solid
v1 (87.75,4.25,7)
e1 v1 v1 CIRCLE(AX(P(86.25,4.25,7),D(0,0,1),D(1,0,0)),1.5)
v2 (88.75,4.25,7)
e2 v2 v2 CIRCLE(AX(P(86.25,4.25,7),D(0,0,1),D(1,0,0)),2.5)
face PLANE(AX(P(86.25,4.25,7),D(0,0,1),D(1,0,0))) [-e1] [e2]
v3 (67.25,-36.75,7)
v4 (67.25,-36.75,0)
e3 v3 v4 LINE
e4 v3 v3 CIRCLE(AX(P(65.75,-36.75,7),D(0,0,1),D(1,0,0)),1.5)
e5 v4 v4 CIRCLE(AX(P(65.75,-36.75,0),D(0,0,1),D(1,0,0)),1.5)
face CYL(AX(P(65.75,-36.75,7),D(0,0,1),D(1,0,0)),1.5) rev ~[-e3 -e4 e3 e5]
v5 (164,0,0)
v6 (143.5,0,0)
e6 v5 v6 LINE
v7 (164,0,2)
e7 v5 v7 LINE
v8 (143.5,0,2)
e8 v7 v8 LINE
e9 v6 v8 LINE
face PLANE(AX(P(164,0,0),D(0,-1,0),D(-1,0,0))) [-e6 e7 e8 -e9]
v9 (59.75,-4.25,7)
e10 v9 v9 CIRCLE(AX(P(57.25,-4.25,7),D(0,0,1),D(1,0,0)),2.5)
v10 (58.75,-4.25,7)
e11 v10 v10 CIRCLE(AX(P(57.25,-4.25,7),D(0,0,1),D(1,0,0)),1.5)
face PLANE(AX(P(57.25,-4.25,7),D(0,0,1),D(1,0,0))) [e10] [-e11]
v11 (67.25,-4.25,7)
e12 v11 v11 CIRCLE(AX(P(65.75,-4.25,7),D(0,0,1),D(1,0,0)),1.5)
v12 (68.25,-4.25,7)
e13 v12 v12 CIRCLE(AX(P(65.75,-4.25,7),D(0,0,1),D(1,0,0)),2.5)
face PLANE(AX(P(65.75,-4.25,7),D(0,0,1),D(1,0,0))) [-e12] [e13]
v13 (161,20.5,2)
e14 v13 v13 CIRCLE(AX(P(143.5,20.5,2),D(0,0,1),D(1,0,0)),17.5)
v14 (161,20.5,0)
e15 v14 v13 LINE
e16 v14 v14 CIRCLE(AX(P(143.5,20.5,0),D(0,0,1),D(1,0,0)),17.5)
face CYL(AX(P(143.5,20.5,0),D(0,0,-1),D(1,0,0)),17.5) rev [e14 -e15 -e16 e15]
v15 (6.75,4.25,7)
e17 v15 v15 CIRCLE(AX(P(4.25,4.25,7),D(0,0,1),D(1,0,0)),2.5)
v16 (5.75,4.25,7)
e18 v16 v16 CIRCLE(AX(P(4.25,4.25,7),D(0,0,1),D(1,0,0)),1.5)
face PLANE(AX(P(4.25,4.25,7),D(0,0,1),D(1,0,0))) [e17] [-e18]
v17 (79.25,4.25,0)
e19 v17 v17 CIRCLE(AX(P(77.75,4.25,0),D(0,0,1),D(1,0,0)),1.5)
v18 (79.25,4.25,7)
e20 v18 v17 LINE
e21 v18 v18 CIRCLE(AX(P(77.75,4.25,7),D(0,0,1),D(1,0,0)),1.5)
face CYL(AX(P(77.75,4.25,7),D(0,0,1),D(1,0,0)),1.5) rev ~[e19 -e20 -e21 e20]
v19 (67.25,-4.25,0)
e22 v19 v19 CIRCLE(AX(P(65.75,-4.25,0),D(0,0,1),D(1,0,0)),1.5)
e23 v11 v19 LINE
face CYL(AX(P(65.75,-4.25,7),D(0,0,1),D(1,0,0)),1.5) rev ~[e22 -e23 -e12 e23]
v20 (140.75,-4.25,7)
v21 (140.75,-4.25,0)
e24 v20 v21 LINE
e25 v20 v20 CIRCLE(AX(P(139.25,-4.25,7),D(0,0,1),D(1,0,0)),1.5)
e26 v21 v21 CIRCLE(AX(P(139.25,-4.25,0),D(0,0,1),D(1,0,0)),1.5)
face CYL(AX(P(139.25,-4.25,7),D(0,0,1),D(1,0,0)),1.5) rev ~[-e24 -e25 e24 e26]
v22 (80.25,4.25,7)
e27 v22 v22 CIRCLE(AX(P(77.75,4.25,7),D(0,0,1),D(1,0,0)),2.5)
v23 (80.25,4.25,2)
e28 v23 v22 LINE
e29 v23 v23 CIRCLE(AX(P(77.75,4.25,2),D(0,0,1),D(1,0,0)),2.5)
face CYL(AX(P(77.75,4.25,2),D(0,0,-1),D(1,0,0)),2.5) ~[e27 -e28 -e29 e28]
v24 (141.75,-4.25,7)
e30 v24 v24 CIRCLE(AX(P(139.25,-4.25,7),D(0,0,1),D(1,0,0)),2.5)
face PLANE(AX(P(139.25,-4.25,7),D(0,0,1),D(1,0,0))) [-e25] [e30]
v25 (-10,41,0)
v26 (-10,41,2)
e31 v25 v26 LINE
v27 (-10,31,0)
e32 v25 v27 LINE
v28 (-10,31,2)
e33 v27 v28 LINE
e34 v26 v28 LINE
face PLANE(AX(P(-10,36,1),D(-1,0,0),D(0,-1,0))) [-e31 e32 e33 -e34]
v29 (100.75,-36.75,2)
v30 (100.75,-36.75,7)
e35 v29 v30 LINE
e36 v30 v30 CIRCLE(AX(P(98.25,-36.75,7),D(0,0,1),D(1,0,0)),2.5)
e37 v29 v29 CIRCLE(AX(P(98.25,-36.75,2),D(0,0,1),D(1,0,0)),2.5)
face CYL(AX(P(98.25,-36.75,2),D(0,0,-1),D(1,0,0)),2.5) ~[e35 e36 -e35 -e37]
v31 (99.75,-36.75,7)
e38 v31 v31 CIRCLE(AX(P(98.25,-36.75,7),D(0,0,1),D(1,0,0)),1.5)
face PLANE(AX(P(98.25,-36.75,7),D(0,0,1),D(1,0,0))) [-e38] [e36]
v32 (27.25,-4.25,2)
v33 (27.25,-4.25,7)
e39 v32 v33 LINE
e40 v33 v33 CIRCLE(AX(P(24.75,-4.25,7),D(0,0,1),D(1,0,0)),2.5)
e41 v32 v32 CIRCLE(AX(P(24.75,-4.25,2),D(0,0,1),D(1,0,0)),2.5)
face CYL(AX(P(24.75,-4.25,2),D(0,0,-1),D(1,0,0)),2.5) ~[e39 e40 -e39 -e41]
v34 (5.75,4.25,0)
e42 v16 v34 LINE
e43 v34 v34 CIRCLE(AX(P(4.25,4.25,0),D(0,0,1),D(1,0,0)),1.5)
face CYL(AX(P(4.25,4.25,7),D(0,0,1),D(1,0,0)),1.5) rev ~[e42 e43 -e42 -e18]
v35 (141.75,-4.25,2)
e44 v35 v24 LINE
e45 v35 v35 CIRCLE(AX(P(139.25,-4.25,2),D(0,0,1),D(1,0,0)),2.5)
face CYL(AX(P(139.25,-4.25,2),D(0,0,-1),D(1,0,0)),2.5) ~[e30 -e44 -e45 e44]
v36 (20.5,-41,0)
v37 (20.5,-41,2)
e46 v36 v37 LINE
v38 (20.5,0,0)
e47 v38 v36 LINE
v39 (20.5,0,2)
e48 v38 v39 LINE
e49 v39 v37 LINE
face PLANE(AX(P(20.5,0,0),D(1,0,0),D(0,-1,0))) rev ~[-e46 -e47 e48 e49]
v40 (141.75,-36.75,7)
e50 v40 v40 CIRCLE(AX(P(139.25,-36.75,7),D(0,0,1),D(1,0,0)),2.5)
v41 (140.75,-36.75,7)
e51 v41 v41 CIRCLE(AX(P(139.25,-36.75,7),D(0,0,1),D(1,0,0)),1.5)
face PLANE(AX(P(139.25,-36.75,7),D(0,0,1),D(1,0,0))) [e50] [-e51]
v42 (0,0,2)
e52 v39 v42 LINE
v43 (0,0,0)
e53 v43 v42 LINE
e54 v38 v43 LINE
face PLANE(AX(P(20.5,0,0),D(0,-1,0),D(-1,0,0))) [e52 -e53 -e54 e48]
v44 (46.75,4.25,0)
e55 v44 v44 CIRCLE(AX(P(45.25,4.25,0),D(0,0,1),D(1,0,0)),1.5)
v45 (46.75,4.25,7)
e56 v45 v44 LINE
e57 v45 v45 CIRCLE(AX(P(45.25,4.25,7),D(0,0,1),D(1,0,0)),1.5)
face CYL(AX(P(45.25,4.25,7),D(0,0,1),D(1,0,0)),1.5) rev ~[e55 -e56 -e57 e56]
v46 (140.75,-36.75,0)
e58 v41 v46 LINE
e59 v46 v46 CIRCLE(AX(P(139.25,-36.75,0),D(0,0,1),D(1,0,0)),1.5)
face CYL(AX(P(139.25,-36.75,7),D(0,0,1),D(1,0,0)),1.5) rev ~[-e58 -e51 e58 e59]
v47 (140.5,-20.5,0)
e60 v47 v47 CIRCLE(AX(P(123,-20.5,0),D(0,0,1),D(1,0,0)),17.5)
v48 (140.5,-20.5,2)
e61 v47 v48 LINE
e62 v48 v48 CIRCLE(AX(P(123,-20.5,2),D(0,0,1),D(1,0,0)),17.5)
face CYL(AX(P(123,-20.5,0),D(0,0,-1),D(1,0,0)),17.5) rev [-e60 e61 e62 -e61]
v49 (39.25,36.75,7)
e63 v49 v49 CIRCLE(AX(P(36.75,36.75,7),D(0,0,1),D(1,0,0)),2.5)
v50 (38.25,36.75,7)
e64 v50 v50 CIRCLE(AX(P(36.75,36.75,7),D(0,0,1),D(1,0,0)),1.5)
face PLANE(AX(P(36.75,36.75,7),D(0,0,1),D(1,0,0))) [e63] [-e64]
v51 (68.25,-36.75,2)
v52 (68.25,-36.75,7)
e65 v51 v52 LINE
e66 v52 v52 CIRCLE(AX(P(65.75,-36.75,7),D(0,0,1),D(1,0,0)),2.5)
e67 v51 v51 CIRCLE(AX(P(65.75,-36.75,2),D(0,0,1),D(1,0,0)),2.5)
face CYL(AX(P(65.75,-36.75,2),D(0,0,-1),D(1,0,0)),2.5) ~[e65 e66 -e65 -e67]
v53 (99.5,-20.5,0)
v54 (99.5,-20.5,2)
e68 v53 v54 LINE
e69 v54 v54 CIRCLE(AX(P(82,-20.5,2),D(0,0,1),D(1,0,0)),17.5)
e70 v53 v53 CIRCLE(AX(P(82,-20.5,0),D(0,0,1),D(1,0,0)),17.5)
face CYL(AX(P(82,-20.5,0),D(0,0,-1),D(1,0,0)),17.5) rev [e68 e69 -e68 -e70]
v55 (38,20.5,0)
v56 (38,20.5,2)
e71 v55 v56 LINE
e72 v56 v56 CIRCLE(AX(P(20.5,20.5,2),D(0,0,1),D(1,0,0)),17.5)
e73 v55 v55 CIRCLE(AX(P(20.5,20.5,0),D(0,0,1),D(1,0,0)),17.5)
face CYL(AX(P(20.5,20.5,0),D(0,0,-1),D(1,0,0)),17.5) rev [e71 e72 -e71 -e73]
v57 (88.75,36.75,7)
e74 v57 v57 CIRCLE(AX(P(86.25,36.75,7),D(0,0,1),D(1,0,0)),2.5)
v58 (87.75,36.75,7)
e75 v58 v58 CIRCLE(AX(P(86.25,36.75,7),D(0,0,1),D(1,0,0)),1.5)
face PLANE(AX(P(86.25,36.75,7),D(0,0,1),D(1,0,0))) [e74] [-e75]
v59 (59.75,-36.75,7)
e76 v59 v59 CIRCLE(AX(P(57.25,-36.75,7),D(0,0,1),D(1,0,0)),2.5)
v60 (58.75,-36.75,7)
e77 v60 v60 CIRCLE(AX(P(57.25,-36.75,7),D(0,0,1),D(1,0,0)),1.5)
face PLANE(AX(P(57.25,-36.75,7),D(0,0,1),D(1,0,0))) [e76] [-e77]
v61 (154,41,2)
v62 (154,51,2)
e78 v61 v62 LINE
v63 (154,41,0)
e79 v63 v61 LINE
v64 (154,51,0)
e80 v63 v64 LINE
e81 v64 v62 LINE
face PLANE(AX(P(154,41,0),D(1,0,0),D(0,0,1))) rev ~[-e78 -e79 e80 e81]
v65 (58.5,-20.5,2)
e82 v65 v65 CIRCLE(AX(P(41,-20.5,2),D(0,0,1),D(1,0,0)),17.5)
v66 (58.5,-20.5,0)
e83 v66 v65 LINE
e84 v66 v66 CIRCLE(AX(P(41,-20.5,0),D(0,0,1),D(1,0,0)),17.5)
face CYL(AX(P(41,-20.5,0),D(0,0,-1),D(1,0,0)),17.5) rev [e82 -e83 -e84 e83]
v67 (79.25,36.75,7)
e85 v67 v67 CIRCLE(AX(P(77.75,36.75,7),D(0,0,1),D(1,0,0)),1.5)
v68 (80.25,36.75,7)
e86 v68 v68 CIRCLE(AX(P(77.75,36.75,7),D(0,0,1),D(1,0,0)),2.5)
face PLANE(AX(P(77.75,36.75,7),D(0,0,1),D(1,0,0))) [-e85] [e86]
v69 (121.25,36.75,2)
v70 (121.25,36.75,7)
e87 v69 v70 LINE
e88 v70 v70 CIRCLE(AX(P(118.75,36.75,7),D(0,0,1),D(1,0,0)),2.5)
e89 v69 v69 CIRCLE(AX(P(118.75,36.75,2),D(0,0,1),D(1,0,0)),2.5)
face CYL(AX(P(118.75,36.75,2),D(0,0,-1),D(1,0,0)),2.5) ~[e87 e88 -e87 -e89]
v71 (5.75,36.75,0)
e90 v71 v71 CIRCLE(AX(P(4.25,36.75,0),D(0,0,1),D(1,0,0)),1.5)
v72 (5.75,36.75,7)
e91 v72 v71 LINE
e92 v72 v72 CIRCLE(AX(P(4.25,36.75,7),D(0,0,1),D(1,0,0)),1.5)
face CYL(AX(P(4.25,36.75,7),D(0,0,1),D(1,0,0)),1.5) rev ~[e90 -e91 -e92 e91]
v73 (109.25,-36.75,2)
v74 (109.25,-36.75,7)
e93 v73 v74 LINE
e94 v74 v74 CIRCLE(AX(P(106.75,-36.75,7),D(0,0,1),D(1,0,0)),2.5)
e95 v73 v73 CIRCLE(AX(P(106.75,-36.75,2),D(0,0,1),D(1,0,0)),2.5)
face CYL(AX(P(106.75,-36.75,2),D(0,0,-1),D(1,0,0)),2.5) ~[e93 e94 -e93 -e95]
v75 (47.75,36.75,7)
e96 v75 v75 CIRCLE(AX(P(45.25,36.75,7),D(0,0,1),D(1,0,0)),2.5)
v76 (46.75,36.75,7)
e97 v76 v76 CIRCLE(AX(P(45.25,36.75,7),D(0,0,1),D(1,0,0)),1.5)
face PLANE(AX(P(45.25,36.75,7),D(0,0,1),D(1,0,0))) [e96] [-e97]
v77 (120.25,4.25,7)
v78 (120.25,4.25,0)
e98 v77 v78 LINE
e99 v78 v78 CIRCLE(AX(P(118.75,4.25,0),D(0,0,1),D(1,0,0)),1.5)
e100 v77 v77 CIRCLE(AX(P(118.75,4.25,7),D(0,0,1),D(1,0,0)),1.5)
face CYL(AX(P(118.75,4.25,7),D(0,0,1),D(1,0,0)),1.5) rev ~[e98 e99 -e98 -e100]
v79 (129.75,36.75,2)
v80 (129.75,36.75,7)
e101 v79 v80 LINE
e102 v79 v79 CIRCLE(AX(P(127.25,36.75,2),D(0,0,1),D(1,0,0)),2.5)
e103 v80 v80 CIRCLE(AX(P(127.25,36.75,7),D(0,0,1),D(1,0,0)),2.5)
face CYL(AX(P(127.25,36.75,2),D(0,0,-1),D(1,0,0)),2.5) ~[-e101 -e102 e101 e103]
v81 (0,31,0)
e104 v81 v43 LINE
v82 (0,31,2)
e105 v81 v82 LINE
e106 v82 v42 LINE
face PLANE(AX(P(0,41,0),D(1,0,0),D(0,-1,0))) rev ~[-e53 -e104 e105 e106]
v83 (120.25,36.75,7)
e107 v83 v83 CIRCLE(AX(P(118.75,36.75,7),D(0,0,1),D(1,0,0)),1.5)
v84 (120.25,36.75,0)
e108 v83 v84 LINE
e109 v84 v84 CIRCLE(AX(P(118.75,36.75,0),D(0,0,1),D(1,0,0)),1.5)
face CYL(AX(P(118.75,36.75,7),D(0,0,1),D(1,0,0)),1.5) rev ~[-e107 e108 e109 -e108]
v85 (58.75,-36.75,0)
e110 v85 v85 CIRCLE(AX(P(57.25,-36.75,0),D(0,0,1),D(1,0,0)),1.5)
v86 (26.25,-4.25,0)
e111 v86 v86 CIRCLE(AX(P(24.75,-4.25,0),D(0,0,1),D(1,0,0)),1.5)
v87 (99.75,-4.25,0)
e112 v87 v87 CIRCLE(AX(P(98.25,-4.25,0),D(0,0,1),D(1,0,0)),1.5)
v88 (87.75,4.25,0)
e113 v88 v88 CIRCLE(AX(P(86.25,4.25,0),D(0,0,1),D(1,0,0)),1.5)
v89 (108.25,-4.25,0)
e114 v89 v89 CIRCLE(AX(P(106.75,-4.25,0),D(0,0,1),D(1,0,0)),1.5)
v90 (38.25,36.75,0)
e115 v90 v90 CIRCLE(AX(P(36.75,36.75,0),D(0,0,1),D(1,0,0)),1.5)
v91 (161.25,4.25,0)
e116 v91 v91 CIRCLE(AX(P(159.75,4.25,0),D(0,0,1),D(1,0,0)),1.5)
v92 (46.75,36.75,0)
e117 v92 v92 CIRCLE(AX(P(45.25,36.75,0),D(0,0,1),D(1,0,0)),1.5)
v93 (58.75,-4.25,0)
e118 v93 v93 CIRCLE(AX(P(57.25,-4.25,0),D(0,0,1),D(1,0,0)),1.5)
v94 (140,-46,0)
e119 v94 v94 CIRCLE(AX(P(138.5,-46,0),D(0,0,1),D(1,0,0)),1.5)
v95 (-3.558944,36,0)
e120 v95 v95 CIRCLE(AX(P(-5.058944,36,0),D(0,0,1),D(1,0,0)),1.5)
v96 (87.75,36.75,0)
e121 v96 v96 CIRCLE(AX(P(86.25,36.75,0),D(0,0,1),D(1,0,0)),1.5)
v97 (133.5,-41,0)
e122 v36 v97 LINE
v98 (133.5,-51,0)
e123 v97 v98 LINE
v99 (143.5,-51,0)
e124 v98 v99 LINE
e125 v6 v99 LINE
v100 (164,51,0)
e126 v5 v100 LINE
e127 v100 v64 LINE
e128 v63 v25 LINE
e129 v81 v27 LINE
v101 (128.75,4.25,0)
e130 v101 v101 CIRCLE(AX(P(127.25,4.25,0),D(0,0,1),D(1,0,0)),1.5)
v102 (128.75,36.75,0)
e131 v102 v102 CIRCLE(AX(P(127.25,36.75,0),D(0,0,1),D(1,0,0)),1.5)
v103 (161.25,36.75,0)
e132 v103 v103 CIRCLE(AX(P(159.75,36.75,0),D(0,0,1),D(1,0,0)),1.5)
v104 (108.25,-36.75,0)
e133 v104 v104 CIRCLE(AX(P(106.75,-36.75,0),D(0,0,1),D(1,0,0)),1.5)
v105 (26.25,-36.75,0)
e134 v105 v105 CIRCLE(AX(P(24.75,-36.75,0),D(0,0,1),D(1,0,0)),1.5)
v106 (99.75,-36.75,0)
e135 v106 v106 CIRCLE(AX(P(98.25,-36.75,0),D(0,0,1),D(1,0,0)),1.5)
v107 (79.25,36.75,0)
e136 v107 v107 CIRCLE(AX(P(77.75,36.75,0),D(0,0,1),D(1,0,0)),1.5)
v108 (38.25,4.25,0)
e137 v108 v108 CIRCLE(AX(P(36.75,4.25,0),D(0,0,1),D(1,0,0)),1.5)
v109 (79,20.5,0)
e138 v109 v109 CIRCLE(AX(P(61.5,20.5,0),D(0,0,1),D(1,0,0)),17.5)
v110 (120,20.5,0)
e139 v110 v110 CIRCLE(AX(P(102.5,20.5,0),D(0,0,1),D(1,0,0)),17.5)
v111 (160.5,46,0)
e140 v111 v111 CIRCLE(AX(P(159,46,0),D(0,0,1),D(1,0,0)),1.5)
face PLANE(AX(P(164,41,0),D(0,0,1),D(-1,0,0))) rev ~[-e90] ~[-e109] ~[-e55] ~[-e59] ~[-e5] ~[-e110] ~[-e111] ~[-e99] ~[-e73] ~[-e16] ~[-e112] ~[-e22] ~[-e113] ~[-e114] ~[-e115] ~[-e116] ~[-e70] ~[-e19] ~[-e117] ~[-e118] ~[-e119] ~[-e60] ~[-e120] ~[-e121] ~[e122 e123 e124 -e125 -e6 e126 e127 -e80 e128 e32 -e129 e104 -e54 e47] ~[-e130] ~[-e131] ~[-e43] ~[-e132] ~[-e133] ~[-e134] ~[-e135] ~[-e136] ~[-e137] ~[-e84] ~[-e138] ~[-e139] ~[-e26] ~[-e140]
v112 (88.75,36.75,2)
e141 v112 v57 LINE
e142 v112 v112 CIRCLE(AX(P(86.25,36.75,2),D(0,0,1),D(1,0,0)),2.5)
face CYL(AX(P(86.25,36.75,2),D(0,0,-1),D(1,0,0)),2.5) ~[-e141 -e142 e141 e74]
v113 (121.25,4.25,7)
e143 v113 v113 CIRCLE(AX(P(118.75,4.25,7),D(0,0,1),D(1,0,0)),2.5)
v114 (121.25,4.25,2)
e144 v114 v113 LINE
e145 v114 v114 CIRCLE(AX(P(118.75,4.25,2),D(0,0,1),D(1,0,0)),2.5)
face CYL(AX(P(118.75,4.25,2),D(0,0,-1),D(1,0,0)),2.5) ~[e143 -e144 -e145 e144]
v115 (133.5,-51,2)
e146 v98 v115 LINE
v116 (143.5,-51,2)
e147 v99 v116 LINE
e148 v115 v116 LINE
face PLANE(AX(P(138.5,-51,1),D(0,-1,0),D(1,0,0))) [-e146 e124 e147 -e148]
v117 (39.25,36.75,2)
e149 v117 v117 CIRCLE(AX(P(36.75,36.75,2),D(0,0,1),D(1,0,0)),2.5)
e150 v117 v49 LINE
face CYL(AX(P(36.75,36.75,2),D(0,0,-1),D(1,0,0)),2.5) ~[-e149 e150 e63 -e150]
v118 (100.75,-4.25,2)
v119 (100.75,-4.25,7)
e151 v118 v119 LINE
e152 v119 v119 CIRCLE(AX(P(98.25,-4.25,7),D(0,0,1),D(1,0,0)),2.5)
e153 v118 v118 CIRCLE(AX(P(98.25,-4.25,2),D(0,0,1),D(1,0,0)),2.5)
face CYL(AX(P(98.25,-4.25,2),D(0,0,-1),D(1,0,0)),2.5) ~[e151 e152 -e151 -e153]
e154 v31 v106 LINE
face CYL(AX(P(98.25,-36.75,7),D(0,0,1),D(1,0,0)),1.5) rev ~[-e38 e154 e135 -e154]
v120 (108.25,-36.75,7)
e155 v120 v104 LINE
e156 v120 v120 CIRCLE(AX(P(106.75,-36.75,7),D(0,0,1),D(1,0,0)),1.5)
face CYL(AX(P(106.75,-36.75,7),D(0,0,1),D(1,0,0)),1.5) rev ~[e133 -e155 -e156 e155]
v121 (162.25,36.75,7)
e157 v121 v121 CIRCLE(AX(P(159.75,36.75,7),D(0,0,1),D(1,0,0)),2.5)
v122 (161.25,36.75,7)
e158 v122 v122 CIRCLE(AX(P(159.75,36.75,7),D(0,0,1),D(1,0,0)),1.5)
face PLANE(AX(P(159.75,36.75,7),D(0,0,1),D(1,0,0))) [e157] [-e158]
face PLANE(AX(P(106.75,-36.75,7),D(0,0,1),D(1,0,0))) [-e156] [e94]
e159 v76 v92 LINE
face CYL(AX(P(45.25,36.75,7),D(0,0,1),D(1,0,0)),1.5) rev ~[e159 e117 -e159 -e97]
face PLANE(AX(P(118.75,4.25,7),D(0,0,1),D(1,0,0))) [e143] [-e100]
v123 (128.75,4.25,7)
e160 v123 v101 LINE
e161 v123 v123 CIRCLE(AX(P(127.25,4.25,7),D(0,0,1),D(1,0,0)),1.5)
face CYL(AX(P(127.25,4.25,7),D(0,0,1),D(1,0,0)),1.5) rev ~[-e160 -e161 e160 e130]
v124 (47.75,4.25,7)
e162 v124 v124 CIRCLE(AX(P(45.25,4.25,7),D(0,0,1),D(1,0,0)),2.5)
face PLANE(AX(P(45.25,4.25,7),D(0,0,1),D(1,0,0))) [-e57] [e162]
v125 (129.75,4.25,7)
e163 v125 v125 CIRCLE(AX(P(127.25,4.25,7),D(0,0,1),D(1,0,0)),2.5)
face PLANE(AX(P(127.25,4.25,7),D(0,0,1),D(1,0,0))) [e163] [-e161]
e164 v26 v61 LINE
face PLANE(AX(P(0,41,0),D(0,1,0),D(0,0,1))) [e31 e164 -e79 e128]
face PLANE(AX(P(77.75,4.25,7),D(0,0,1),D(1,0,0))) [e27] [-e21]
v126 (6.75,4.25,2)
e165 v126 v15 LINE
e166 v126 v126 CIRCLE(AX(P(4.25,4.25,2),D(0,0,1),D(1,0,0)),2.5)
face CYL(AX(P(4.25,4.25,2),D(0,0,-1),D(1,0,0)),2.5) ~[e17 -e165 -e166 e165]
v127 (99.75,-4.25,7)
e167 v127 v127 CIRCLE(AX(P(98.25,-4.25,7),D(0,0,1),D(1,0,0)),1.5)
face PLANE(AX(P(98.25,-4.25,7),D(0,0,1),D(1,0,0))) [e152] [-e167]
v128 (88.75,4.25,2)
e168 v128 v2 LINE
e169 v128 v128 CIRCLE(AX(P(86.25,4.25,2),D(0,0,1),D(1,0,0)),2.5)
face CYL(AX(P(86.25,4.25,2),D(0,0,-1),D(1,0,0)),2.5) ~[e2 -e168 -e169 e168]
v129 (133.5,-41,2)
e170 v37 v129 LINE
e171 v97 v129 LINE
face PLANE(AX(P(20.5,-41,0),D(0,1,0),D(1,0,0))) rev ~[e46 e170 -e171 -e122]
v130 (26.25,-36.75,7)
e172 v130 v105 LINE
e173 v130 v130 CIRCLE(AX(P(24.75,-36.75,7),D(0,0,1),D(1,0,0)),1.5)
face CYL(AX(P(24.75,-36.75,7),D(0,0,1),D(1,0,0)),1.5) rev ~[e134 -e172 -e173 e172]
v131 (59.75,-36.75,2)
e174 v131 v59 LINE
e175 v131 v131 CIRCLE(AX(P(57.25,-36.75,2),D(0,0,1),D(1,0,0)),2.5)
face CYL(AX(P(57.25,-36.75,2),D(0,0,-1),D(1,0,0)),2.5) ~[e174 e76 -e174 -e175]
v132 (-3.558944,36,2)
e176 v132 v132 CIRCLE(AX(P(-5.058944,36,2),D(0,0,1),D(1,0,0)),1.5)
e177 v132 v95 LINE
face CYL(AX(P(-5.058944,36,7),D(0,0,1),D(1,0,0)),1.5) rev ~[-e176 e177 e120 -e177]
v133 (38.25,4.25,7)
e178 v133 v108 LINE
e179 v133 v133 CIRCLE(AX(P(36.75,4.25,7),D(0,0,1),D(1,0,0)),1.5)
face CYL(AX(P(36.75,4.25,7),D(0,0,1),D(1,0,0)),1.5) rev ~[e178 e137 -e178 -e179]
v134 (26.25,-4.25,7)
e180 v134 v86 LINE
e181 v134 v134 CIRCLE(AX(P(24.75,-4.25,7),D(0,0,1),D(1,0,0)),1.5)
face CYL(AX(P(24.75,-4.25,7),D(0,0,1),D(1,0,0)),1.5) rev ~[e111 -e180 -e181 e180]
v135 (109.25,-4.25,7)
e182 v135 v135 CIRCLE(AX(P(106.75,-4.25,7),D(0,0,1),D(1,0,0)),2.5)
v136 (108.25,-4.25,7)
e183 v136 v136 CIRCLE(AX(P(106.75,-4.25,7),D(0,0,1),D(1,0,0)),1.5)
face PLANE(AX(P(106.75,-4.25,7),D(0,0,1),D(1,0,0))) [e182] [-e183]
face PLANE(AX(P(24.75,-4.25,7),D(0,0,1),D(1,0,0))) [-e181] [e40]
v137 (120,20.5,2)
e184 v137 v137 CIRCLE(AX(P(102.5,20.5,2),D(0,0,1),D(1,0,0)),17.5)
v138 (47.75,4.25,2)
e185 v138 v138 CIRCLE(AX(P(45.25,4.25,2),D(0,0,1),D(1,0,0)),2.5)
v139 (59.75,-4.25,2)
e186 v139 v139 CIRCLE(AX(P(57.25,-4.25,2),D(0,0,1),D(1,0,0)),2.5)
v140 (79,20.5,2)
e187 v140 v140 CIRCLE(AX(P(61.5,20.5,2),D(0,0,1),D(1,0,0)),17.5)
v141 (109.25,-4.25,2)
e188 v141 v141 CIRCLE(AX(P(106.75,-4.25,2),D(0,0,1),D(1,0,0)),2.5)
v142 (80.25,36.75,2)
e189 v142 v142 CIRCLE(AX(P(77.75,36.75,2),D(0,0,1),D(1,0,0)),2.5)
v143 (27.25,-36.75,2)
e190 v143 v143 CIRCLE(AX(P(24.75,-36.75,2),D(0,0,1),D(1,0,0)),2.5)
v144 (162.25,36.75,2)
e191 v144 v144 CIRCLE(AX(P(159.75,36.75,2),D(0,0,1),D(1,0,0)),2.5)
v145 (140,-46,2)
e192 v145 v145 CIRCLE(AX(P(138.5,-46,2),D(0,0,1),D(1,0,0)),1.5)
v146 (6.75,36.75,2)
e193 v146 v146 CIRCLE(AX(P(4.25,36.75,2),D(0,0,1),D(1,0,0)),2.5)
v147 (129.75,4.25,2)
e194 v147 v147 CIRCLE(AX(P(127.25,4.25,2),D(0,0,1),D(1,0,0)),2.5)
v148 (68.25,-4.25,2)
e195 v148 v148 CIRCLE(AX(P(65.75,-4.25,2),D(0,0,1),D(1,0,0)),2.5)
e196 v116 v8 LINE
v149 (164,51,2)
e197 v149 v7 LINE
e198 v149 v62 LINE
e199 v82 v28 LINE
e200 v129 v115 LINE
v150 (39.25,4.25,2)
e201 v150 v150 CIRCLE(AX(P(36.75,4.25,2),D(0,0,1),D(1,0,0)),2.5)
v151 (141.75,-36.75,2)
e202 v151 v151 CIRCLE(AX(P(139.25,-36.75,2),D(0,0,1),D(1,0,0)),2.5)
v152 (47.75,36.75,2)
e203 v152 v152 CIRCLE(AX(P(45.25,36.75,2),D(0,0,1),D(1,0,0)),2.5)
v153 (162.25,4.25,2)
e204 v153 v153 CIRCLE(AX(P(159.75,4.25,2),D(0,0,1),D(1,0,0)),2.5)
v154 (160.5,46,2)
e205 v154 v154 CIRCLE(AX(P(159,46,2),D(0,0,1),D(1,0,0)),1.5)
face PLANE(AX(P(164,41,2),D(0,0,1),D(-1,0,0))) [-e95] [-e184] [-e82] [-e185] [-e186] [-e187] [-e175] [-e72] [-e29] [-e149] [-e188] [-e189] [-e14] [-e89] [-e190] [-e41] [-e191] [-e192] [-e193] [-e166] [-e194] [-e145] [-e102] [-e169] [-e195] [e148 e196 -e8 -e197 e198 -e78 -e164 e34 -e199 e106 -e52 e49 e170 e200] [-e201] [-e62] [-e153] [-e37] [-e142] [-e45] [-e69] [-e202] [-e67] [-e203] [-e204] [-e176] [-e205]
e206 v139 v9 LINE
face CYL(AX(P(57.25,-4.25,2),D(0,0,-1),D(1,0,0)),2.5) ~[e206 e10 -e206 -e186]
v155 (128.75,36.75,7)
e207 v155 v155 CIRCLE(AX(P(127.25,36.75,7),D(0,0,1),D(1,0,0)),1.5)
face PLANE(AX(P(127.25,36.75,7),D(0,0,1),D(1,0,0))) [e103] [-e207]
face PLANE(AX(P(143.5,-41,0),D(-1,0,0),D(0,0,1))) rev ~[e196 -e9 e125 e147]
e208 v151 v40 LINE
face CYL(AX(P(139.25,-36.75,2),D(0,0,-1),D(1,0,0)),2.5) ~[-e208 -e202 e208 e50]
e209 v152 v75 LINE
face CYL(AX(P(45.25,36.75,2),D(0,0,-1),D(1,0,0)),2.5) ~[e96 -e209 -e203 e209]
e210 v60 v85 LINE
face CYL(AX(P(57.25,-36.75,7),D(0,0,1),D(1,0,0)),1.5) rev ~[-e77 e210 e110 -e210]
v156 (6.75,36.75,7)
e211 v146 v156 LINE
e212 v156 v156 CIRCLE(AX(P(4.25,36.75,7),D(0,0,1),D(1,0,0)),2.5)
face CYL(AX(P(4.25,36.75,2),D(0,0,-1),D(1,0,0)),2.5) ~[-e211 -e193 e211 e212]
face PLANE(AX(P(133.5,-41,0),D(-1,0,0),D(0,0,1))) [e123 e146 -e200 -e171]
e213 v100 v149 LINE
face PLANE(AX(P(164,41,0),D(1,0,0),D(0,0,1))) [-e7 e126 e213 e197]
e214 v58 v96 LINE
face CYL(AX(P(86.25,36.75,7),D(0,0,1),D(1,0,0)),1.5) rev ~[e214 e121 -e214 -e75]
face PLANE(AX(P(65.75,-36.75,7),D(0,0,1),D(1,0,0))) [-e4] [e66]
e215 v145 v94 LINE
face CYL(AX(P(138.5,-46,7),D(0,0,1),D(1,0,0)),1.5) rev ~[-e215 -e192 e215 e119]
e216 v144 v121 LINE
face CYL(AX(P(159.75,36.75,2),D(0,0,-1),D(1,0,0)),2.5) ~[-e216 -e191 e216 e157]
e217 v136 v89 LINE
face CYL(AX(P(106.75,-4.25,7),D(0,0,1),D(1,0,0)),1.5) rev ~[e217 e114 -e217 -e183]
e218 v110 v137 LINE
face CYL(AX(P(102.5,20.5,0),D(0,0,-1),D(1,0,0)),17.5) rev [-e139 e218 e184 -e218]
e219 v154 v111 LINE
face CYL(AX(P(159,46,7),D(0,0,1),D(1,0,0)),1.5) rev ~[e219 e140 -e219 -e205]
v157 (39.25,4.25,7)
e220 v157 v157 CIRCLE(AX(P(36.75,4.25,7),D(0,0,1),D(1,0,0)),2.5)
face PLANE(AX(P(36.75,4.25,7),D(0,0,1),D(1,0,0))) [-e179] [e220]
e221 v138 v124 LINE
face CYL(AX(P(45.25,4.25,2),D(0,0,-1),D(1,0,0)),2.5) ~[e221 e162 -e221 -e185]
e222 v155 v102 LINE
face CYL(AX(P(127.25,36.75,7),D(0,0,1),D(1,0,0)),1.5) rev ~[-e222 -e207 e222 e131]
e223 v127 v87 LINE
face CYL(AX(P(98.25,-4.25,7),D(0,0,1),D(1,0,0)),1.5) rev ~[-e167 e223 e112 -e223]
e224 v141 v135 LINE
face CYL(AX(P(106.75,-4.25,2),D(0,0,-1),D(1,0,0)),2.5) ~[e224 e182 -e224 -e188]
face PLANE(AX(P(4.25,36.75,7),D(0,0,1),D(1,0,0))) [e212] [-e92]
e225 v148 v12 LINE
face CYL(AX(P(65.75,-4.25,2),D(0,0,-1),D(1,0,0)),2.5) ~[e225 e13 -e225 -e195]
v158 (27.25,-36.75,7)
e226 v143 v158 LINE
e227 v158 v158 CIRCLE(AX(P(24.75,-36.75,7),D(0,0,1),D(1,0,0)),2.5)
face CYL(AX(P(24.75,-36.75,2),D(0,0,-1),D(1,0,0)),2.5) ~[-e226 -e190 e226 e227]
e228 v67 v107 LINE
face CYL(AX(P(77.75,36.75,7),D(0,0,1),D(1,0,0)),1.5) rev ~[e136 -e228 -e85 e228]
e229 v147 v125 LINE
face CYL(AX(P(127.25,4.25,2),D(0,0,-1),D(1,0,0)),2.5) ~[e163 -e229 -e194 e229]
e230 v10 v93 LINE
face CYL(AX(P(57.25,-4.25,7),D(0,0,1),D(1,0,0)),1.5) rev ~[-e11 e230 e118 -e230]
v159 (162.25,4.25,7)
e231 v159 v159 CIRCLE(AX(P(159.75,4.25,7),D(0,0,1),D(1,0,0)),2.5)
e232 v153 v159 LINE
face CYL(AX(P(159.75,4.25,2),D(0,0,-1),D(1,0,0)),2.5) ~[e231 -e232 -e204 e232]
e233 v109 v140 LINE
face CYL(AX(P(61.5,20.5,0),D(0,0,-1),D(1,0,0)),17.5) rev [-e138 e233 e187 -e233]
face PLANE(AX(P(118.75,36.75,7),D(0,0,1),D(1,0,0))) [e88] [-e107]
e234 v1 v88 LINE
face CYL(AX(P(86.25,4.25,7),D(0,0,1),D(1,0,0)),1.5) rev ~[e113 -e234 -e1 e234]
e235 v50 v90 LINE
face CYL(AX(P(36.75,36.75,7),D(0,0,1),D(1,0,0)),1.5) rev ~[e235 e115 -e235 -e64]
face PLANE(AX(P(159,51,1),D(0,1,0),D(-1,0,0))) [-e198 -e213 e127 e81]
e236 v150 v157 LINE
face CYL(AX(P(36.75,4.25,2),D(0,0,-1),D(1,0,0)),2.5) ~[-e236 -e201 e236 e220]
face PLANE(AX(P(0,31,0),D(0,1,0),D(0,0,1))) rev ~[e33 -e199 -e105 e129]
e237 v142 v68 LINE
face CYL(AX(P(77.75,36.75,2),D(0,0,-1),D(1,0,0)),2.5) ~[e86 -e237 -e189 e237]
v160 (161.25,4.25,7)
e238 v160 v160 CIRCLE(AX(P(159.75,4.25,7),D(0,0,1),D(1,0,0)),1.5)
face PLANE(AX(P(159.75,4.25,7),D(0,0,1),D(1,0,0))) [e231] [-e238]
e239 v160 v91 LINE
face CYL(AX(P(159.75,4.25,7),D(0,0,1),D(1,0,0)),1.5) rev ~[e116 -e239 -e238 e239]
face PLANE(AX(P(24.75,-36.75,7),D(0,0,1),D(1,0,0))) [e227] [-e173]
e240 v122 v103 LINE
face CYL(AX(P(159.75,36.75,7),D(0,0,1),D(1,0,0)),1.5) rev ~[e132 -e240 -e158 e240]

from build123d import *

# Parameters (mm, degrees)
SKETCH_R     = 17.5
PAD_DEPTH    = 2
SKETCH002_W  = 10
SKETCH002_H  = 2
PAD003_DEPTH = 10
SKETCH003_W  = 10
SKETCH003_H  = 2
PAD004_DEPTH = 10
SKETCH006_W  = 10
SKETCH006_H  = 2
PAD007_DEPTH = 10
SKETCH001_R  = 2.5
PAD006_DEPTH = 5
SKETCH005_R  = 1.5
POCKET_DEPTH = 7.001


with BuildPart() as part:
    # Sketch → Pad (new body)
    with BuildSketch(Plane.XY):
        Polygon((0, 0), (0, 20.5), (0, 41), (20.5, 41), (41, 41), (61.5, 41), (82, 41), (102.5, 41), (82, 41), (102.5, 41), (123, 41), (143.5, 41), (164, 41), (164, 20.5), (164, 0), (143.5, 0), (143.5, -20.5), (143.5, -41), (123, -41), (102.5, -41), (82, -41), (61.5, -41), (41, -41), (20.5, -41), (20.5, -20.5), (20.5, 0), align=None)
        with Locations((20.5, 20.5)):
            Circle(SKETCH_R, mode=Mode.SUBTRACT)
        with Locations((61.5, 20.5)):
            Circle(SKETCH_R, mode=Mode.SUBTRACT)
        with Locations((102.5, 20.5)):
            Circle(SKETCH_R, mode=Mode.SUBTRACT)
        with Locations((143.5, 20.5)):
            Circle(SKETCH_R, mode=Mode.SUBTRACT)
        with Locations((41, -20.5)):
            Circle(SKETCH_R, mode=Mode.SUBTRACT)
        with Locations((82, -20.5)):
            Circle(SKETCH_R, mode=Mode.SUBTRACT)
        with Locations((123, -20.5)):
            Circle(SKETCH_R, mode=Mode.SUBTRACT)
    extrude(amount=PAD_DEPTH)

    # Sketch002 → Pad003 (join)
    with BuildSketch(Plane(origin=(0, 0, 0), x_dir=(0, -1, 0), z_dir=(-1, 0, 0))):
        with Locations((-36, 1)):
            Rectangle(SKETCH002_W, SKETCH002_H)
    extrude(amount=PAD003_DEPTH)

    # Sketch003 (on Face14 of Pad003) → Pad004 (join)
    with BuildSketch(Plane.XZ.offset(41)):
        with Locations((138.5, 1)):
            Rectangle(SKETCH003_W, SKETCH003_H)
    extrude(amount=PAD004_DEPTH)

    # Sketch006 (on Face8 of Pad004) → Pad007 (join)
    with BuildSketch(Plane(origin=(0, 41, 0), x_dir=(-1, 0, 0), z_dir=(0, 1, 0))):
        with Locations((-159, 1)):
            Rectangle(SKETCH006_W, SKETCH006_H)
    extrude(amount=PAD007_DEPTH)

    # Sketch001 (on Face35 of Pad) → Pad006 (join)
    with BuildSketch(Plane.XY.offset(2)):
        with Locations((4.25, 36.75)):
            Circle(SKETCH001_R)
        with Locations((36.75, 36.75)):
            Circle(SKETCH001_R)
        with Locations((4.25, 4.25)):
            Circle(SKETCH001_R)
        with Locations((36.75, 4.25)):
            Circle(SKETCH001_R)
        with Locations((45.25, 36.75)):
            Circle(SKETCH001_R)
        with Locations((77.75, 36.75)):
            Circle(SKETCH001_R)
        with Locations((45.25, 4.25)):
            Circle(SKETCH001_R)
        with Locations((77.75, 4.25)):
            Circle(SKETCH001_R)
        with Locations((86.25, 36.75)):
            Circle(SKETCH001_R)
        with Locations((118.75, 36.75)):
            Circle(SKETCH001_R)
        with Locations((86.25, 4.25)):
            Circle(SKETCH001_R)
        with Locations((118.75, 4.25)):
            Circle(SKETCH001_R)
        with Locations((127.25, 36.75)):
            Circle(SKETCH001_R)
        with Locations((159.75, 36.75)):
            Circle(SKETCH001_R)
        with Locations((127.25, 4.25)):
            Circle(SKETCH001_R)
        with Locations((159.75, 4.25)):
            Circle(SKETCH001_R)
        with Locations((24.75, -4.25)):
            Circle(SKETCH001_R)
        with Locations((57.25, -4.25)):
            Circle(SKETCH001_R)
        with Locations((24.75, -36.75)):
            Circle(SKETCH001_R)
        with Locations((57.25, -36.75)):
            Circle(SKETCH001_R)
        with Locations((65.75, -4.25)):
            Circle(SKETCH001_R)
        with Locations((98.25, -4.25)):
            Circle(SKETCH001_R)
        with Locations((65.75, -36.75)):
            Circle(SKETCH001_R)
        with Locations((98.25, -36.75)):
            Circle(SKETCH001_R)
        with Locations((106.75, -4.25)):
            Circle(SKETCH001_R)
        with Locations((139.25, -4.25)):
            Circle(SKETCH001_R)
        with Locations((106.75, -36.75)):
            Circle(SKETCH001_R)
        with Locations((139.25, -36.75)):
            Circle(SKETCH001_R)
    extrude(amount=PAD006_DEPTH)

    # Sketch005 (on Face93 of Pad006) → Pocket (cut, through all)
    with BuildSketch(Plane.XY.offset(7)):
        with Locations((-5.058944, 36)):
            Circle(SKETCH005_R)
        with Locations((4.25, 36.75)):
            Circle(SKETCH005_R)
        with Locations((36.75, 36.75)):
            Circle(SKETCH005_R)
        with Locations((45.25, 36.75)):
            Circle(SKETCH005_R)
        with Locations((77.75, 36.75)):
            Circle(SKETCH005_R)
        with Locations((86.25, 36.75)):
            Circle(SKETCH005_R)
        with Locations((4.25, 4.25)):
            Circle(SKETCH005_R)
        with Locations((36.75, 4.25)):
            Circle(SKETCH005_R)
        with Locations((45.25, 4.25)):
            Circle(SKETCH005_R)
        with Locations((77.75, 4.25)):
            Circle(SKETCH005_R)
        with Locations((86.25, 4.25)):
            Circle(SKETCH005_R)
        with Locations((118.75, 36.75)):
            Circle(SKETCH005_R)
        with Locations((118.75, 4.25)):
            Circle(SKETCH005_R)
        with Locations((127.25, 36.75)):
            Circle(SKETCH005_R)
        with Locations((127.25, 4.25)):
            Circle(SKETCH005_R)
        with Locations((159.75, 36.75)):
            Circle(SKETCH005_R)
        with Locations((159.75, 4.25)):
            Circle(SKETCH005_R)
        with Locations((106.75, -4.25)):
            Circle(SKETCH005_R)
        with Locations((139.25, -4.25)):
            Circle(SKETCH005_R)
        with Locations((139.25, -36.75)):
            Circle(SKETCH005_R)
        with Locations((106.75, -36.75)):
            Circle(SKETCH005_R)
        with Locations((24.75, -4.25)):
            Circle(SKETCH005_R)
        with Locations((57.25, -4.25)):
            Circle(SKETCH005_R)
        with Locations((65.75, -4.25)):
            Circle(SKETCH005_R)
        with Locations((98.25, -4.25)):
            Circle(SKETCH005_R)
        with Locations((24.75, -36.75)):
            Circle(SKETCH005_R)
        with Locations((57.25, -36.75)):
            Circle(SKETCH005_R)
        with Locations((65.75, -36.75)):
            Circle(SKETCH005_R)
        with Locations((98.25, -36.75)):
            Circle(SKETCH005_R)
        with Locations((138.5, -46)):
            Circle(SKETCH005_R)
        with Locations((159, 46)):
            Circle(SKETCH005_R)
    extrude(amount=-POCKET_DEPTH, mode=Mode.SUBTRACT)


solid = part.part
